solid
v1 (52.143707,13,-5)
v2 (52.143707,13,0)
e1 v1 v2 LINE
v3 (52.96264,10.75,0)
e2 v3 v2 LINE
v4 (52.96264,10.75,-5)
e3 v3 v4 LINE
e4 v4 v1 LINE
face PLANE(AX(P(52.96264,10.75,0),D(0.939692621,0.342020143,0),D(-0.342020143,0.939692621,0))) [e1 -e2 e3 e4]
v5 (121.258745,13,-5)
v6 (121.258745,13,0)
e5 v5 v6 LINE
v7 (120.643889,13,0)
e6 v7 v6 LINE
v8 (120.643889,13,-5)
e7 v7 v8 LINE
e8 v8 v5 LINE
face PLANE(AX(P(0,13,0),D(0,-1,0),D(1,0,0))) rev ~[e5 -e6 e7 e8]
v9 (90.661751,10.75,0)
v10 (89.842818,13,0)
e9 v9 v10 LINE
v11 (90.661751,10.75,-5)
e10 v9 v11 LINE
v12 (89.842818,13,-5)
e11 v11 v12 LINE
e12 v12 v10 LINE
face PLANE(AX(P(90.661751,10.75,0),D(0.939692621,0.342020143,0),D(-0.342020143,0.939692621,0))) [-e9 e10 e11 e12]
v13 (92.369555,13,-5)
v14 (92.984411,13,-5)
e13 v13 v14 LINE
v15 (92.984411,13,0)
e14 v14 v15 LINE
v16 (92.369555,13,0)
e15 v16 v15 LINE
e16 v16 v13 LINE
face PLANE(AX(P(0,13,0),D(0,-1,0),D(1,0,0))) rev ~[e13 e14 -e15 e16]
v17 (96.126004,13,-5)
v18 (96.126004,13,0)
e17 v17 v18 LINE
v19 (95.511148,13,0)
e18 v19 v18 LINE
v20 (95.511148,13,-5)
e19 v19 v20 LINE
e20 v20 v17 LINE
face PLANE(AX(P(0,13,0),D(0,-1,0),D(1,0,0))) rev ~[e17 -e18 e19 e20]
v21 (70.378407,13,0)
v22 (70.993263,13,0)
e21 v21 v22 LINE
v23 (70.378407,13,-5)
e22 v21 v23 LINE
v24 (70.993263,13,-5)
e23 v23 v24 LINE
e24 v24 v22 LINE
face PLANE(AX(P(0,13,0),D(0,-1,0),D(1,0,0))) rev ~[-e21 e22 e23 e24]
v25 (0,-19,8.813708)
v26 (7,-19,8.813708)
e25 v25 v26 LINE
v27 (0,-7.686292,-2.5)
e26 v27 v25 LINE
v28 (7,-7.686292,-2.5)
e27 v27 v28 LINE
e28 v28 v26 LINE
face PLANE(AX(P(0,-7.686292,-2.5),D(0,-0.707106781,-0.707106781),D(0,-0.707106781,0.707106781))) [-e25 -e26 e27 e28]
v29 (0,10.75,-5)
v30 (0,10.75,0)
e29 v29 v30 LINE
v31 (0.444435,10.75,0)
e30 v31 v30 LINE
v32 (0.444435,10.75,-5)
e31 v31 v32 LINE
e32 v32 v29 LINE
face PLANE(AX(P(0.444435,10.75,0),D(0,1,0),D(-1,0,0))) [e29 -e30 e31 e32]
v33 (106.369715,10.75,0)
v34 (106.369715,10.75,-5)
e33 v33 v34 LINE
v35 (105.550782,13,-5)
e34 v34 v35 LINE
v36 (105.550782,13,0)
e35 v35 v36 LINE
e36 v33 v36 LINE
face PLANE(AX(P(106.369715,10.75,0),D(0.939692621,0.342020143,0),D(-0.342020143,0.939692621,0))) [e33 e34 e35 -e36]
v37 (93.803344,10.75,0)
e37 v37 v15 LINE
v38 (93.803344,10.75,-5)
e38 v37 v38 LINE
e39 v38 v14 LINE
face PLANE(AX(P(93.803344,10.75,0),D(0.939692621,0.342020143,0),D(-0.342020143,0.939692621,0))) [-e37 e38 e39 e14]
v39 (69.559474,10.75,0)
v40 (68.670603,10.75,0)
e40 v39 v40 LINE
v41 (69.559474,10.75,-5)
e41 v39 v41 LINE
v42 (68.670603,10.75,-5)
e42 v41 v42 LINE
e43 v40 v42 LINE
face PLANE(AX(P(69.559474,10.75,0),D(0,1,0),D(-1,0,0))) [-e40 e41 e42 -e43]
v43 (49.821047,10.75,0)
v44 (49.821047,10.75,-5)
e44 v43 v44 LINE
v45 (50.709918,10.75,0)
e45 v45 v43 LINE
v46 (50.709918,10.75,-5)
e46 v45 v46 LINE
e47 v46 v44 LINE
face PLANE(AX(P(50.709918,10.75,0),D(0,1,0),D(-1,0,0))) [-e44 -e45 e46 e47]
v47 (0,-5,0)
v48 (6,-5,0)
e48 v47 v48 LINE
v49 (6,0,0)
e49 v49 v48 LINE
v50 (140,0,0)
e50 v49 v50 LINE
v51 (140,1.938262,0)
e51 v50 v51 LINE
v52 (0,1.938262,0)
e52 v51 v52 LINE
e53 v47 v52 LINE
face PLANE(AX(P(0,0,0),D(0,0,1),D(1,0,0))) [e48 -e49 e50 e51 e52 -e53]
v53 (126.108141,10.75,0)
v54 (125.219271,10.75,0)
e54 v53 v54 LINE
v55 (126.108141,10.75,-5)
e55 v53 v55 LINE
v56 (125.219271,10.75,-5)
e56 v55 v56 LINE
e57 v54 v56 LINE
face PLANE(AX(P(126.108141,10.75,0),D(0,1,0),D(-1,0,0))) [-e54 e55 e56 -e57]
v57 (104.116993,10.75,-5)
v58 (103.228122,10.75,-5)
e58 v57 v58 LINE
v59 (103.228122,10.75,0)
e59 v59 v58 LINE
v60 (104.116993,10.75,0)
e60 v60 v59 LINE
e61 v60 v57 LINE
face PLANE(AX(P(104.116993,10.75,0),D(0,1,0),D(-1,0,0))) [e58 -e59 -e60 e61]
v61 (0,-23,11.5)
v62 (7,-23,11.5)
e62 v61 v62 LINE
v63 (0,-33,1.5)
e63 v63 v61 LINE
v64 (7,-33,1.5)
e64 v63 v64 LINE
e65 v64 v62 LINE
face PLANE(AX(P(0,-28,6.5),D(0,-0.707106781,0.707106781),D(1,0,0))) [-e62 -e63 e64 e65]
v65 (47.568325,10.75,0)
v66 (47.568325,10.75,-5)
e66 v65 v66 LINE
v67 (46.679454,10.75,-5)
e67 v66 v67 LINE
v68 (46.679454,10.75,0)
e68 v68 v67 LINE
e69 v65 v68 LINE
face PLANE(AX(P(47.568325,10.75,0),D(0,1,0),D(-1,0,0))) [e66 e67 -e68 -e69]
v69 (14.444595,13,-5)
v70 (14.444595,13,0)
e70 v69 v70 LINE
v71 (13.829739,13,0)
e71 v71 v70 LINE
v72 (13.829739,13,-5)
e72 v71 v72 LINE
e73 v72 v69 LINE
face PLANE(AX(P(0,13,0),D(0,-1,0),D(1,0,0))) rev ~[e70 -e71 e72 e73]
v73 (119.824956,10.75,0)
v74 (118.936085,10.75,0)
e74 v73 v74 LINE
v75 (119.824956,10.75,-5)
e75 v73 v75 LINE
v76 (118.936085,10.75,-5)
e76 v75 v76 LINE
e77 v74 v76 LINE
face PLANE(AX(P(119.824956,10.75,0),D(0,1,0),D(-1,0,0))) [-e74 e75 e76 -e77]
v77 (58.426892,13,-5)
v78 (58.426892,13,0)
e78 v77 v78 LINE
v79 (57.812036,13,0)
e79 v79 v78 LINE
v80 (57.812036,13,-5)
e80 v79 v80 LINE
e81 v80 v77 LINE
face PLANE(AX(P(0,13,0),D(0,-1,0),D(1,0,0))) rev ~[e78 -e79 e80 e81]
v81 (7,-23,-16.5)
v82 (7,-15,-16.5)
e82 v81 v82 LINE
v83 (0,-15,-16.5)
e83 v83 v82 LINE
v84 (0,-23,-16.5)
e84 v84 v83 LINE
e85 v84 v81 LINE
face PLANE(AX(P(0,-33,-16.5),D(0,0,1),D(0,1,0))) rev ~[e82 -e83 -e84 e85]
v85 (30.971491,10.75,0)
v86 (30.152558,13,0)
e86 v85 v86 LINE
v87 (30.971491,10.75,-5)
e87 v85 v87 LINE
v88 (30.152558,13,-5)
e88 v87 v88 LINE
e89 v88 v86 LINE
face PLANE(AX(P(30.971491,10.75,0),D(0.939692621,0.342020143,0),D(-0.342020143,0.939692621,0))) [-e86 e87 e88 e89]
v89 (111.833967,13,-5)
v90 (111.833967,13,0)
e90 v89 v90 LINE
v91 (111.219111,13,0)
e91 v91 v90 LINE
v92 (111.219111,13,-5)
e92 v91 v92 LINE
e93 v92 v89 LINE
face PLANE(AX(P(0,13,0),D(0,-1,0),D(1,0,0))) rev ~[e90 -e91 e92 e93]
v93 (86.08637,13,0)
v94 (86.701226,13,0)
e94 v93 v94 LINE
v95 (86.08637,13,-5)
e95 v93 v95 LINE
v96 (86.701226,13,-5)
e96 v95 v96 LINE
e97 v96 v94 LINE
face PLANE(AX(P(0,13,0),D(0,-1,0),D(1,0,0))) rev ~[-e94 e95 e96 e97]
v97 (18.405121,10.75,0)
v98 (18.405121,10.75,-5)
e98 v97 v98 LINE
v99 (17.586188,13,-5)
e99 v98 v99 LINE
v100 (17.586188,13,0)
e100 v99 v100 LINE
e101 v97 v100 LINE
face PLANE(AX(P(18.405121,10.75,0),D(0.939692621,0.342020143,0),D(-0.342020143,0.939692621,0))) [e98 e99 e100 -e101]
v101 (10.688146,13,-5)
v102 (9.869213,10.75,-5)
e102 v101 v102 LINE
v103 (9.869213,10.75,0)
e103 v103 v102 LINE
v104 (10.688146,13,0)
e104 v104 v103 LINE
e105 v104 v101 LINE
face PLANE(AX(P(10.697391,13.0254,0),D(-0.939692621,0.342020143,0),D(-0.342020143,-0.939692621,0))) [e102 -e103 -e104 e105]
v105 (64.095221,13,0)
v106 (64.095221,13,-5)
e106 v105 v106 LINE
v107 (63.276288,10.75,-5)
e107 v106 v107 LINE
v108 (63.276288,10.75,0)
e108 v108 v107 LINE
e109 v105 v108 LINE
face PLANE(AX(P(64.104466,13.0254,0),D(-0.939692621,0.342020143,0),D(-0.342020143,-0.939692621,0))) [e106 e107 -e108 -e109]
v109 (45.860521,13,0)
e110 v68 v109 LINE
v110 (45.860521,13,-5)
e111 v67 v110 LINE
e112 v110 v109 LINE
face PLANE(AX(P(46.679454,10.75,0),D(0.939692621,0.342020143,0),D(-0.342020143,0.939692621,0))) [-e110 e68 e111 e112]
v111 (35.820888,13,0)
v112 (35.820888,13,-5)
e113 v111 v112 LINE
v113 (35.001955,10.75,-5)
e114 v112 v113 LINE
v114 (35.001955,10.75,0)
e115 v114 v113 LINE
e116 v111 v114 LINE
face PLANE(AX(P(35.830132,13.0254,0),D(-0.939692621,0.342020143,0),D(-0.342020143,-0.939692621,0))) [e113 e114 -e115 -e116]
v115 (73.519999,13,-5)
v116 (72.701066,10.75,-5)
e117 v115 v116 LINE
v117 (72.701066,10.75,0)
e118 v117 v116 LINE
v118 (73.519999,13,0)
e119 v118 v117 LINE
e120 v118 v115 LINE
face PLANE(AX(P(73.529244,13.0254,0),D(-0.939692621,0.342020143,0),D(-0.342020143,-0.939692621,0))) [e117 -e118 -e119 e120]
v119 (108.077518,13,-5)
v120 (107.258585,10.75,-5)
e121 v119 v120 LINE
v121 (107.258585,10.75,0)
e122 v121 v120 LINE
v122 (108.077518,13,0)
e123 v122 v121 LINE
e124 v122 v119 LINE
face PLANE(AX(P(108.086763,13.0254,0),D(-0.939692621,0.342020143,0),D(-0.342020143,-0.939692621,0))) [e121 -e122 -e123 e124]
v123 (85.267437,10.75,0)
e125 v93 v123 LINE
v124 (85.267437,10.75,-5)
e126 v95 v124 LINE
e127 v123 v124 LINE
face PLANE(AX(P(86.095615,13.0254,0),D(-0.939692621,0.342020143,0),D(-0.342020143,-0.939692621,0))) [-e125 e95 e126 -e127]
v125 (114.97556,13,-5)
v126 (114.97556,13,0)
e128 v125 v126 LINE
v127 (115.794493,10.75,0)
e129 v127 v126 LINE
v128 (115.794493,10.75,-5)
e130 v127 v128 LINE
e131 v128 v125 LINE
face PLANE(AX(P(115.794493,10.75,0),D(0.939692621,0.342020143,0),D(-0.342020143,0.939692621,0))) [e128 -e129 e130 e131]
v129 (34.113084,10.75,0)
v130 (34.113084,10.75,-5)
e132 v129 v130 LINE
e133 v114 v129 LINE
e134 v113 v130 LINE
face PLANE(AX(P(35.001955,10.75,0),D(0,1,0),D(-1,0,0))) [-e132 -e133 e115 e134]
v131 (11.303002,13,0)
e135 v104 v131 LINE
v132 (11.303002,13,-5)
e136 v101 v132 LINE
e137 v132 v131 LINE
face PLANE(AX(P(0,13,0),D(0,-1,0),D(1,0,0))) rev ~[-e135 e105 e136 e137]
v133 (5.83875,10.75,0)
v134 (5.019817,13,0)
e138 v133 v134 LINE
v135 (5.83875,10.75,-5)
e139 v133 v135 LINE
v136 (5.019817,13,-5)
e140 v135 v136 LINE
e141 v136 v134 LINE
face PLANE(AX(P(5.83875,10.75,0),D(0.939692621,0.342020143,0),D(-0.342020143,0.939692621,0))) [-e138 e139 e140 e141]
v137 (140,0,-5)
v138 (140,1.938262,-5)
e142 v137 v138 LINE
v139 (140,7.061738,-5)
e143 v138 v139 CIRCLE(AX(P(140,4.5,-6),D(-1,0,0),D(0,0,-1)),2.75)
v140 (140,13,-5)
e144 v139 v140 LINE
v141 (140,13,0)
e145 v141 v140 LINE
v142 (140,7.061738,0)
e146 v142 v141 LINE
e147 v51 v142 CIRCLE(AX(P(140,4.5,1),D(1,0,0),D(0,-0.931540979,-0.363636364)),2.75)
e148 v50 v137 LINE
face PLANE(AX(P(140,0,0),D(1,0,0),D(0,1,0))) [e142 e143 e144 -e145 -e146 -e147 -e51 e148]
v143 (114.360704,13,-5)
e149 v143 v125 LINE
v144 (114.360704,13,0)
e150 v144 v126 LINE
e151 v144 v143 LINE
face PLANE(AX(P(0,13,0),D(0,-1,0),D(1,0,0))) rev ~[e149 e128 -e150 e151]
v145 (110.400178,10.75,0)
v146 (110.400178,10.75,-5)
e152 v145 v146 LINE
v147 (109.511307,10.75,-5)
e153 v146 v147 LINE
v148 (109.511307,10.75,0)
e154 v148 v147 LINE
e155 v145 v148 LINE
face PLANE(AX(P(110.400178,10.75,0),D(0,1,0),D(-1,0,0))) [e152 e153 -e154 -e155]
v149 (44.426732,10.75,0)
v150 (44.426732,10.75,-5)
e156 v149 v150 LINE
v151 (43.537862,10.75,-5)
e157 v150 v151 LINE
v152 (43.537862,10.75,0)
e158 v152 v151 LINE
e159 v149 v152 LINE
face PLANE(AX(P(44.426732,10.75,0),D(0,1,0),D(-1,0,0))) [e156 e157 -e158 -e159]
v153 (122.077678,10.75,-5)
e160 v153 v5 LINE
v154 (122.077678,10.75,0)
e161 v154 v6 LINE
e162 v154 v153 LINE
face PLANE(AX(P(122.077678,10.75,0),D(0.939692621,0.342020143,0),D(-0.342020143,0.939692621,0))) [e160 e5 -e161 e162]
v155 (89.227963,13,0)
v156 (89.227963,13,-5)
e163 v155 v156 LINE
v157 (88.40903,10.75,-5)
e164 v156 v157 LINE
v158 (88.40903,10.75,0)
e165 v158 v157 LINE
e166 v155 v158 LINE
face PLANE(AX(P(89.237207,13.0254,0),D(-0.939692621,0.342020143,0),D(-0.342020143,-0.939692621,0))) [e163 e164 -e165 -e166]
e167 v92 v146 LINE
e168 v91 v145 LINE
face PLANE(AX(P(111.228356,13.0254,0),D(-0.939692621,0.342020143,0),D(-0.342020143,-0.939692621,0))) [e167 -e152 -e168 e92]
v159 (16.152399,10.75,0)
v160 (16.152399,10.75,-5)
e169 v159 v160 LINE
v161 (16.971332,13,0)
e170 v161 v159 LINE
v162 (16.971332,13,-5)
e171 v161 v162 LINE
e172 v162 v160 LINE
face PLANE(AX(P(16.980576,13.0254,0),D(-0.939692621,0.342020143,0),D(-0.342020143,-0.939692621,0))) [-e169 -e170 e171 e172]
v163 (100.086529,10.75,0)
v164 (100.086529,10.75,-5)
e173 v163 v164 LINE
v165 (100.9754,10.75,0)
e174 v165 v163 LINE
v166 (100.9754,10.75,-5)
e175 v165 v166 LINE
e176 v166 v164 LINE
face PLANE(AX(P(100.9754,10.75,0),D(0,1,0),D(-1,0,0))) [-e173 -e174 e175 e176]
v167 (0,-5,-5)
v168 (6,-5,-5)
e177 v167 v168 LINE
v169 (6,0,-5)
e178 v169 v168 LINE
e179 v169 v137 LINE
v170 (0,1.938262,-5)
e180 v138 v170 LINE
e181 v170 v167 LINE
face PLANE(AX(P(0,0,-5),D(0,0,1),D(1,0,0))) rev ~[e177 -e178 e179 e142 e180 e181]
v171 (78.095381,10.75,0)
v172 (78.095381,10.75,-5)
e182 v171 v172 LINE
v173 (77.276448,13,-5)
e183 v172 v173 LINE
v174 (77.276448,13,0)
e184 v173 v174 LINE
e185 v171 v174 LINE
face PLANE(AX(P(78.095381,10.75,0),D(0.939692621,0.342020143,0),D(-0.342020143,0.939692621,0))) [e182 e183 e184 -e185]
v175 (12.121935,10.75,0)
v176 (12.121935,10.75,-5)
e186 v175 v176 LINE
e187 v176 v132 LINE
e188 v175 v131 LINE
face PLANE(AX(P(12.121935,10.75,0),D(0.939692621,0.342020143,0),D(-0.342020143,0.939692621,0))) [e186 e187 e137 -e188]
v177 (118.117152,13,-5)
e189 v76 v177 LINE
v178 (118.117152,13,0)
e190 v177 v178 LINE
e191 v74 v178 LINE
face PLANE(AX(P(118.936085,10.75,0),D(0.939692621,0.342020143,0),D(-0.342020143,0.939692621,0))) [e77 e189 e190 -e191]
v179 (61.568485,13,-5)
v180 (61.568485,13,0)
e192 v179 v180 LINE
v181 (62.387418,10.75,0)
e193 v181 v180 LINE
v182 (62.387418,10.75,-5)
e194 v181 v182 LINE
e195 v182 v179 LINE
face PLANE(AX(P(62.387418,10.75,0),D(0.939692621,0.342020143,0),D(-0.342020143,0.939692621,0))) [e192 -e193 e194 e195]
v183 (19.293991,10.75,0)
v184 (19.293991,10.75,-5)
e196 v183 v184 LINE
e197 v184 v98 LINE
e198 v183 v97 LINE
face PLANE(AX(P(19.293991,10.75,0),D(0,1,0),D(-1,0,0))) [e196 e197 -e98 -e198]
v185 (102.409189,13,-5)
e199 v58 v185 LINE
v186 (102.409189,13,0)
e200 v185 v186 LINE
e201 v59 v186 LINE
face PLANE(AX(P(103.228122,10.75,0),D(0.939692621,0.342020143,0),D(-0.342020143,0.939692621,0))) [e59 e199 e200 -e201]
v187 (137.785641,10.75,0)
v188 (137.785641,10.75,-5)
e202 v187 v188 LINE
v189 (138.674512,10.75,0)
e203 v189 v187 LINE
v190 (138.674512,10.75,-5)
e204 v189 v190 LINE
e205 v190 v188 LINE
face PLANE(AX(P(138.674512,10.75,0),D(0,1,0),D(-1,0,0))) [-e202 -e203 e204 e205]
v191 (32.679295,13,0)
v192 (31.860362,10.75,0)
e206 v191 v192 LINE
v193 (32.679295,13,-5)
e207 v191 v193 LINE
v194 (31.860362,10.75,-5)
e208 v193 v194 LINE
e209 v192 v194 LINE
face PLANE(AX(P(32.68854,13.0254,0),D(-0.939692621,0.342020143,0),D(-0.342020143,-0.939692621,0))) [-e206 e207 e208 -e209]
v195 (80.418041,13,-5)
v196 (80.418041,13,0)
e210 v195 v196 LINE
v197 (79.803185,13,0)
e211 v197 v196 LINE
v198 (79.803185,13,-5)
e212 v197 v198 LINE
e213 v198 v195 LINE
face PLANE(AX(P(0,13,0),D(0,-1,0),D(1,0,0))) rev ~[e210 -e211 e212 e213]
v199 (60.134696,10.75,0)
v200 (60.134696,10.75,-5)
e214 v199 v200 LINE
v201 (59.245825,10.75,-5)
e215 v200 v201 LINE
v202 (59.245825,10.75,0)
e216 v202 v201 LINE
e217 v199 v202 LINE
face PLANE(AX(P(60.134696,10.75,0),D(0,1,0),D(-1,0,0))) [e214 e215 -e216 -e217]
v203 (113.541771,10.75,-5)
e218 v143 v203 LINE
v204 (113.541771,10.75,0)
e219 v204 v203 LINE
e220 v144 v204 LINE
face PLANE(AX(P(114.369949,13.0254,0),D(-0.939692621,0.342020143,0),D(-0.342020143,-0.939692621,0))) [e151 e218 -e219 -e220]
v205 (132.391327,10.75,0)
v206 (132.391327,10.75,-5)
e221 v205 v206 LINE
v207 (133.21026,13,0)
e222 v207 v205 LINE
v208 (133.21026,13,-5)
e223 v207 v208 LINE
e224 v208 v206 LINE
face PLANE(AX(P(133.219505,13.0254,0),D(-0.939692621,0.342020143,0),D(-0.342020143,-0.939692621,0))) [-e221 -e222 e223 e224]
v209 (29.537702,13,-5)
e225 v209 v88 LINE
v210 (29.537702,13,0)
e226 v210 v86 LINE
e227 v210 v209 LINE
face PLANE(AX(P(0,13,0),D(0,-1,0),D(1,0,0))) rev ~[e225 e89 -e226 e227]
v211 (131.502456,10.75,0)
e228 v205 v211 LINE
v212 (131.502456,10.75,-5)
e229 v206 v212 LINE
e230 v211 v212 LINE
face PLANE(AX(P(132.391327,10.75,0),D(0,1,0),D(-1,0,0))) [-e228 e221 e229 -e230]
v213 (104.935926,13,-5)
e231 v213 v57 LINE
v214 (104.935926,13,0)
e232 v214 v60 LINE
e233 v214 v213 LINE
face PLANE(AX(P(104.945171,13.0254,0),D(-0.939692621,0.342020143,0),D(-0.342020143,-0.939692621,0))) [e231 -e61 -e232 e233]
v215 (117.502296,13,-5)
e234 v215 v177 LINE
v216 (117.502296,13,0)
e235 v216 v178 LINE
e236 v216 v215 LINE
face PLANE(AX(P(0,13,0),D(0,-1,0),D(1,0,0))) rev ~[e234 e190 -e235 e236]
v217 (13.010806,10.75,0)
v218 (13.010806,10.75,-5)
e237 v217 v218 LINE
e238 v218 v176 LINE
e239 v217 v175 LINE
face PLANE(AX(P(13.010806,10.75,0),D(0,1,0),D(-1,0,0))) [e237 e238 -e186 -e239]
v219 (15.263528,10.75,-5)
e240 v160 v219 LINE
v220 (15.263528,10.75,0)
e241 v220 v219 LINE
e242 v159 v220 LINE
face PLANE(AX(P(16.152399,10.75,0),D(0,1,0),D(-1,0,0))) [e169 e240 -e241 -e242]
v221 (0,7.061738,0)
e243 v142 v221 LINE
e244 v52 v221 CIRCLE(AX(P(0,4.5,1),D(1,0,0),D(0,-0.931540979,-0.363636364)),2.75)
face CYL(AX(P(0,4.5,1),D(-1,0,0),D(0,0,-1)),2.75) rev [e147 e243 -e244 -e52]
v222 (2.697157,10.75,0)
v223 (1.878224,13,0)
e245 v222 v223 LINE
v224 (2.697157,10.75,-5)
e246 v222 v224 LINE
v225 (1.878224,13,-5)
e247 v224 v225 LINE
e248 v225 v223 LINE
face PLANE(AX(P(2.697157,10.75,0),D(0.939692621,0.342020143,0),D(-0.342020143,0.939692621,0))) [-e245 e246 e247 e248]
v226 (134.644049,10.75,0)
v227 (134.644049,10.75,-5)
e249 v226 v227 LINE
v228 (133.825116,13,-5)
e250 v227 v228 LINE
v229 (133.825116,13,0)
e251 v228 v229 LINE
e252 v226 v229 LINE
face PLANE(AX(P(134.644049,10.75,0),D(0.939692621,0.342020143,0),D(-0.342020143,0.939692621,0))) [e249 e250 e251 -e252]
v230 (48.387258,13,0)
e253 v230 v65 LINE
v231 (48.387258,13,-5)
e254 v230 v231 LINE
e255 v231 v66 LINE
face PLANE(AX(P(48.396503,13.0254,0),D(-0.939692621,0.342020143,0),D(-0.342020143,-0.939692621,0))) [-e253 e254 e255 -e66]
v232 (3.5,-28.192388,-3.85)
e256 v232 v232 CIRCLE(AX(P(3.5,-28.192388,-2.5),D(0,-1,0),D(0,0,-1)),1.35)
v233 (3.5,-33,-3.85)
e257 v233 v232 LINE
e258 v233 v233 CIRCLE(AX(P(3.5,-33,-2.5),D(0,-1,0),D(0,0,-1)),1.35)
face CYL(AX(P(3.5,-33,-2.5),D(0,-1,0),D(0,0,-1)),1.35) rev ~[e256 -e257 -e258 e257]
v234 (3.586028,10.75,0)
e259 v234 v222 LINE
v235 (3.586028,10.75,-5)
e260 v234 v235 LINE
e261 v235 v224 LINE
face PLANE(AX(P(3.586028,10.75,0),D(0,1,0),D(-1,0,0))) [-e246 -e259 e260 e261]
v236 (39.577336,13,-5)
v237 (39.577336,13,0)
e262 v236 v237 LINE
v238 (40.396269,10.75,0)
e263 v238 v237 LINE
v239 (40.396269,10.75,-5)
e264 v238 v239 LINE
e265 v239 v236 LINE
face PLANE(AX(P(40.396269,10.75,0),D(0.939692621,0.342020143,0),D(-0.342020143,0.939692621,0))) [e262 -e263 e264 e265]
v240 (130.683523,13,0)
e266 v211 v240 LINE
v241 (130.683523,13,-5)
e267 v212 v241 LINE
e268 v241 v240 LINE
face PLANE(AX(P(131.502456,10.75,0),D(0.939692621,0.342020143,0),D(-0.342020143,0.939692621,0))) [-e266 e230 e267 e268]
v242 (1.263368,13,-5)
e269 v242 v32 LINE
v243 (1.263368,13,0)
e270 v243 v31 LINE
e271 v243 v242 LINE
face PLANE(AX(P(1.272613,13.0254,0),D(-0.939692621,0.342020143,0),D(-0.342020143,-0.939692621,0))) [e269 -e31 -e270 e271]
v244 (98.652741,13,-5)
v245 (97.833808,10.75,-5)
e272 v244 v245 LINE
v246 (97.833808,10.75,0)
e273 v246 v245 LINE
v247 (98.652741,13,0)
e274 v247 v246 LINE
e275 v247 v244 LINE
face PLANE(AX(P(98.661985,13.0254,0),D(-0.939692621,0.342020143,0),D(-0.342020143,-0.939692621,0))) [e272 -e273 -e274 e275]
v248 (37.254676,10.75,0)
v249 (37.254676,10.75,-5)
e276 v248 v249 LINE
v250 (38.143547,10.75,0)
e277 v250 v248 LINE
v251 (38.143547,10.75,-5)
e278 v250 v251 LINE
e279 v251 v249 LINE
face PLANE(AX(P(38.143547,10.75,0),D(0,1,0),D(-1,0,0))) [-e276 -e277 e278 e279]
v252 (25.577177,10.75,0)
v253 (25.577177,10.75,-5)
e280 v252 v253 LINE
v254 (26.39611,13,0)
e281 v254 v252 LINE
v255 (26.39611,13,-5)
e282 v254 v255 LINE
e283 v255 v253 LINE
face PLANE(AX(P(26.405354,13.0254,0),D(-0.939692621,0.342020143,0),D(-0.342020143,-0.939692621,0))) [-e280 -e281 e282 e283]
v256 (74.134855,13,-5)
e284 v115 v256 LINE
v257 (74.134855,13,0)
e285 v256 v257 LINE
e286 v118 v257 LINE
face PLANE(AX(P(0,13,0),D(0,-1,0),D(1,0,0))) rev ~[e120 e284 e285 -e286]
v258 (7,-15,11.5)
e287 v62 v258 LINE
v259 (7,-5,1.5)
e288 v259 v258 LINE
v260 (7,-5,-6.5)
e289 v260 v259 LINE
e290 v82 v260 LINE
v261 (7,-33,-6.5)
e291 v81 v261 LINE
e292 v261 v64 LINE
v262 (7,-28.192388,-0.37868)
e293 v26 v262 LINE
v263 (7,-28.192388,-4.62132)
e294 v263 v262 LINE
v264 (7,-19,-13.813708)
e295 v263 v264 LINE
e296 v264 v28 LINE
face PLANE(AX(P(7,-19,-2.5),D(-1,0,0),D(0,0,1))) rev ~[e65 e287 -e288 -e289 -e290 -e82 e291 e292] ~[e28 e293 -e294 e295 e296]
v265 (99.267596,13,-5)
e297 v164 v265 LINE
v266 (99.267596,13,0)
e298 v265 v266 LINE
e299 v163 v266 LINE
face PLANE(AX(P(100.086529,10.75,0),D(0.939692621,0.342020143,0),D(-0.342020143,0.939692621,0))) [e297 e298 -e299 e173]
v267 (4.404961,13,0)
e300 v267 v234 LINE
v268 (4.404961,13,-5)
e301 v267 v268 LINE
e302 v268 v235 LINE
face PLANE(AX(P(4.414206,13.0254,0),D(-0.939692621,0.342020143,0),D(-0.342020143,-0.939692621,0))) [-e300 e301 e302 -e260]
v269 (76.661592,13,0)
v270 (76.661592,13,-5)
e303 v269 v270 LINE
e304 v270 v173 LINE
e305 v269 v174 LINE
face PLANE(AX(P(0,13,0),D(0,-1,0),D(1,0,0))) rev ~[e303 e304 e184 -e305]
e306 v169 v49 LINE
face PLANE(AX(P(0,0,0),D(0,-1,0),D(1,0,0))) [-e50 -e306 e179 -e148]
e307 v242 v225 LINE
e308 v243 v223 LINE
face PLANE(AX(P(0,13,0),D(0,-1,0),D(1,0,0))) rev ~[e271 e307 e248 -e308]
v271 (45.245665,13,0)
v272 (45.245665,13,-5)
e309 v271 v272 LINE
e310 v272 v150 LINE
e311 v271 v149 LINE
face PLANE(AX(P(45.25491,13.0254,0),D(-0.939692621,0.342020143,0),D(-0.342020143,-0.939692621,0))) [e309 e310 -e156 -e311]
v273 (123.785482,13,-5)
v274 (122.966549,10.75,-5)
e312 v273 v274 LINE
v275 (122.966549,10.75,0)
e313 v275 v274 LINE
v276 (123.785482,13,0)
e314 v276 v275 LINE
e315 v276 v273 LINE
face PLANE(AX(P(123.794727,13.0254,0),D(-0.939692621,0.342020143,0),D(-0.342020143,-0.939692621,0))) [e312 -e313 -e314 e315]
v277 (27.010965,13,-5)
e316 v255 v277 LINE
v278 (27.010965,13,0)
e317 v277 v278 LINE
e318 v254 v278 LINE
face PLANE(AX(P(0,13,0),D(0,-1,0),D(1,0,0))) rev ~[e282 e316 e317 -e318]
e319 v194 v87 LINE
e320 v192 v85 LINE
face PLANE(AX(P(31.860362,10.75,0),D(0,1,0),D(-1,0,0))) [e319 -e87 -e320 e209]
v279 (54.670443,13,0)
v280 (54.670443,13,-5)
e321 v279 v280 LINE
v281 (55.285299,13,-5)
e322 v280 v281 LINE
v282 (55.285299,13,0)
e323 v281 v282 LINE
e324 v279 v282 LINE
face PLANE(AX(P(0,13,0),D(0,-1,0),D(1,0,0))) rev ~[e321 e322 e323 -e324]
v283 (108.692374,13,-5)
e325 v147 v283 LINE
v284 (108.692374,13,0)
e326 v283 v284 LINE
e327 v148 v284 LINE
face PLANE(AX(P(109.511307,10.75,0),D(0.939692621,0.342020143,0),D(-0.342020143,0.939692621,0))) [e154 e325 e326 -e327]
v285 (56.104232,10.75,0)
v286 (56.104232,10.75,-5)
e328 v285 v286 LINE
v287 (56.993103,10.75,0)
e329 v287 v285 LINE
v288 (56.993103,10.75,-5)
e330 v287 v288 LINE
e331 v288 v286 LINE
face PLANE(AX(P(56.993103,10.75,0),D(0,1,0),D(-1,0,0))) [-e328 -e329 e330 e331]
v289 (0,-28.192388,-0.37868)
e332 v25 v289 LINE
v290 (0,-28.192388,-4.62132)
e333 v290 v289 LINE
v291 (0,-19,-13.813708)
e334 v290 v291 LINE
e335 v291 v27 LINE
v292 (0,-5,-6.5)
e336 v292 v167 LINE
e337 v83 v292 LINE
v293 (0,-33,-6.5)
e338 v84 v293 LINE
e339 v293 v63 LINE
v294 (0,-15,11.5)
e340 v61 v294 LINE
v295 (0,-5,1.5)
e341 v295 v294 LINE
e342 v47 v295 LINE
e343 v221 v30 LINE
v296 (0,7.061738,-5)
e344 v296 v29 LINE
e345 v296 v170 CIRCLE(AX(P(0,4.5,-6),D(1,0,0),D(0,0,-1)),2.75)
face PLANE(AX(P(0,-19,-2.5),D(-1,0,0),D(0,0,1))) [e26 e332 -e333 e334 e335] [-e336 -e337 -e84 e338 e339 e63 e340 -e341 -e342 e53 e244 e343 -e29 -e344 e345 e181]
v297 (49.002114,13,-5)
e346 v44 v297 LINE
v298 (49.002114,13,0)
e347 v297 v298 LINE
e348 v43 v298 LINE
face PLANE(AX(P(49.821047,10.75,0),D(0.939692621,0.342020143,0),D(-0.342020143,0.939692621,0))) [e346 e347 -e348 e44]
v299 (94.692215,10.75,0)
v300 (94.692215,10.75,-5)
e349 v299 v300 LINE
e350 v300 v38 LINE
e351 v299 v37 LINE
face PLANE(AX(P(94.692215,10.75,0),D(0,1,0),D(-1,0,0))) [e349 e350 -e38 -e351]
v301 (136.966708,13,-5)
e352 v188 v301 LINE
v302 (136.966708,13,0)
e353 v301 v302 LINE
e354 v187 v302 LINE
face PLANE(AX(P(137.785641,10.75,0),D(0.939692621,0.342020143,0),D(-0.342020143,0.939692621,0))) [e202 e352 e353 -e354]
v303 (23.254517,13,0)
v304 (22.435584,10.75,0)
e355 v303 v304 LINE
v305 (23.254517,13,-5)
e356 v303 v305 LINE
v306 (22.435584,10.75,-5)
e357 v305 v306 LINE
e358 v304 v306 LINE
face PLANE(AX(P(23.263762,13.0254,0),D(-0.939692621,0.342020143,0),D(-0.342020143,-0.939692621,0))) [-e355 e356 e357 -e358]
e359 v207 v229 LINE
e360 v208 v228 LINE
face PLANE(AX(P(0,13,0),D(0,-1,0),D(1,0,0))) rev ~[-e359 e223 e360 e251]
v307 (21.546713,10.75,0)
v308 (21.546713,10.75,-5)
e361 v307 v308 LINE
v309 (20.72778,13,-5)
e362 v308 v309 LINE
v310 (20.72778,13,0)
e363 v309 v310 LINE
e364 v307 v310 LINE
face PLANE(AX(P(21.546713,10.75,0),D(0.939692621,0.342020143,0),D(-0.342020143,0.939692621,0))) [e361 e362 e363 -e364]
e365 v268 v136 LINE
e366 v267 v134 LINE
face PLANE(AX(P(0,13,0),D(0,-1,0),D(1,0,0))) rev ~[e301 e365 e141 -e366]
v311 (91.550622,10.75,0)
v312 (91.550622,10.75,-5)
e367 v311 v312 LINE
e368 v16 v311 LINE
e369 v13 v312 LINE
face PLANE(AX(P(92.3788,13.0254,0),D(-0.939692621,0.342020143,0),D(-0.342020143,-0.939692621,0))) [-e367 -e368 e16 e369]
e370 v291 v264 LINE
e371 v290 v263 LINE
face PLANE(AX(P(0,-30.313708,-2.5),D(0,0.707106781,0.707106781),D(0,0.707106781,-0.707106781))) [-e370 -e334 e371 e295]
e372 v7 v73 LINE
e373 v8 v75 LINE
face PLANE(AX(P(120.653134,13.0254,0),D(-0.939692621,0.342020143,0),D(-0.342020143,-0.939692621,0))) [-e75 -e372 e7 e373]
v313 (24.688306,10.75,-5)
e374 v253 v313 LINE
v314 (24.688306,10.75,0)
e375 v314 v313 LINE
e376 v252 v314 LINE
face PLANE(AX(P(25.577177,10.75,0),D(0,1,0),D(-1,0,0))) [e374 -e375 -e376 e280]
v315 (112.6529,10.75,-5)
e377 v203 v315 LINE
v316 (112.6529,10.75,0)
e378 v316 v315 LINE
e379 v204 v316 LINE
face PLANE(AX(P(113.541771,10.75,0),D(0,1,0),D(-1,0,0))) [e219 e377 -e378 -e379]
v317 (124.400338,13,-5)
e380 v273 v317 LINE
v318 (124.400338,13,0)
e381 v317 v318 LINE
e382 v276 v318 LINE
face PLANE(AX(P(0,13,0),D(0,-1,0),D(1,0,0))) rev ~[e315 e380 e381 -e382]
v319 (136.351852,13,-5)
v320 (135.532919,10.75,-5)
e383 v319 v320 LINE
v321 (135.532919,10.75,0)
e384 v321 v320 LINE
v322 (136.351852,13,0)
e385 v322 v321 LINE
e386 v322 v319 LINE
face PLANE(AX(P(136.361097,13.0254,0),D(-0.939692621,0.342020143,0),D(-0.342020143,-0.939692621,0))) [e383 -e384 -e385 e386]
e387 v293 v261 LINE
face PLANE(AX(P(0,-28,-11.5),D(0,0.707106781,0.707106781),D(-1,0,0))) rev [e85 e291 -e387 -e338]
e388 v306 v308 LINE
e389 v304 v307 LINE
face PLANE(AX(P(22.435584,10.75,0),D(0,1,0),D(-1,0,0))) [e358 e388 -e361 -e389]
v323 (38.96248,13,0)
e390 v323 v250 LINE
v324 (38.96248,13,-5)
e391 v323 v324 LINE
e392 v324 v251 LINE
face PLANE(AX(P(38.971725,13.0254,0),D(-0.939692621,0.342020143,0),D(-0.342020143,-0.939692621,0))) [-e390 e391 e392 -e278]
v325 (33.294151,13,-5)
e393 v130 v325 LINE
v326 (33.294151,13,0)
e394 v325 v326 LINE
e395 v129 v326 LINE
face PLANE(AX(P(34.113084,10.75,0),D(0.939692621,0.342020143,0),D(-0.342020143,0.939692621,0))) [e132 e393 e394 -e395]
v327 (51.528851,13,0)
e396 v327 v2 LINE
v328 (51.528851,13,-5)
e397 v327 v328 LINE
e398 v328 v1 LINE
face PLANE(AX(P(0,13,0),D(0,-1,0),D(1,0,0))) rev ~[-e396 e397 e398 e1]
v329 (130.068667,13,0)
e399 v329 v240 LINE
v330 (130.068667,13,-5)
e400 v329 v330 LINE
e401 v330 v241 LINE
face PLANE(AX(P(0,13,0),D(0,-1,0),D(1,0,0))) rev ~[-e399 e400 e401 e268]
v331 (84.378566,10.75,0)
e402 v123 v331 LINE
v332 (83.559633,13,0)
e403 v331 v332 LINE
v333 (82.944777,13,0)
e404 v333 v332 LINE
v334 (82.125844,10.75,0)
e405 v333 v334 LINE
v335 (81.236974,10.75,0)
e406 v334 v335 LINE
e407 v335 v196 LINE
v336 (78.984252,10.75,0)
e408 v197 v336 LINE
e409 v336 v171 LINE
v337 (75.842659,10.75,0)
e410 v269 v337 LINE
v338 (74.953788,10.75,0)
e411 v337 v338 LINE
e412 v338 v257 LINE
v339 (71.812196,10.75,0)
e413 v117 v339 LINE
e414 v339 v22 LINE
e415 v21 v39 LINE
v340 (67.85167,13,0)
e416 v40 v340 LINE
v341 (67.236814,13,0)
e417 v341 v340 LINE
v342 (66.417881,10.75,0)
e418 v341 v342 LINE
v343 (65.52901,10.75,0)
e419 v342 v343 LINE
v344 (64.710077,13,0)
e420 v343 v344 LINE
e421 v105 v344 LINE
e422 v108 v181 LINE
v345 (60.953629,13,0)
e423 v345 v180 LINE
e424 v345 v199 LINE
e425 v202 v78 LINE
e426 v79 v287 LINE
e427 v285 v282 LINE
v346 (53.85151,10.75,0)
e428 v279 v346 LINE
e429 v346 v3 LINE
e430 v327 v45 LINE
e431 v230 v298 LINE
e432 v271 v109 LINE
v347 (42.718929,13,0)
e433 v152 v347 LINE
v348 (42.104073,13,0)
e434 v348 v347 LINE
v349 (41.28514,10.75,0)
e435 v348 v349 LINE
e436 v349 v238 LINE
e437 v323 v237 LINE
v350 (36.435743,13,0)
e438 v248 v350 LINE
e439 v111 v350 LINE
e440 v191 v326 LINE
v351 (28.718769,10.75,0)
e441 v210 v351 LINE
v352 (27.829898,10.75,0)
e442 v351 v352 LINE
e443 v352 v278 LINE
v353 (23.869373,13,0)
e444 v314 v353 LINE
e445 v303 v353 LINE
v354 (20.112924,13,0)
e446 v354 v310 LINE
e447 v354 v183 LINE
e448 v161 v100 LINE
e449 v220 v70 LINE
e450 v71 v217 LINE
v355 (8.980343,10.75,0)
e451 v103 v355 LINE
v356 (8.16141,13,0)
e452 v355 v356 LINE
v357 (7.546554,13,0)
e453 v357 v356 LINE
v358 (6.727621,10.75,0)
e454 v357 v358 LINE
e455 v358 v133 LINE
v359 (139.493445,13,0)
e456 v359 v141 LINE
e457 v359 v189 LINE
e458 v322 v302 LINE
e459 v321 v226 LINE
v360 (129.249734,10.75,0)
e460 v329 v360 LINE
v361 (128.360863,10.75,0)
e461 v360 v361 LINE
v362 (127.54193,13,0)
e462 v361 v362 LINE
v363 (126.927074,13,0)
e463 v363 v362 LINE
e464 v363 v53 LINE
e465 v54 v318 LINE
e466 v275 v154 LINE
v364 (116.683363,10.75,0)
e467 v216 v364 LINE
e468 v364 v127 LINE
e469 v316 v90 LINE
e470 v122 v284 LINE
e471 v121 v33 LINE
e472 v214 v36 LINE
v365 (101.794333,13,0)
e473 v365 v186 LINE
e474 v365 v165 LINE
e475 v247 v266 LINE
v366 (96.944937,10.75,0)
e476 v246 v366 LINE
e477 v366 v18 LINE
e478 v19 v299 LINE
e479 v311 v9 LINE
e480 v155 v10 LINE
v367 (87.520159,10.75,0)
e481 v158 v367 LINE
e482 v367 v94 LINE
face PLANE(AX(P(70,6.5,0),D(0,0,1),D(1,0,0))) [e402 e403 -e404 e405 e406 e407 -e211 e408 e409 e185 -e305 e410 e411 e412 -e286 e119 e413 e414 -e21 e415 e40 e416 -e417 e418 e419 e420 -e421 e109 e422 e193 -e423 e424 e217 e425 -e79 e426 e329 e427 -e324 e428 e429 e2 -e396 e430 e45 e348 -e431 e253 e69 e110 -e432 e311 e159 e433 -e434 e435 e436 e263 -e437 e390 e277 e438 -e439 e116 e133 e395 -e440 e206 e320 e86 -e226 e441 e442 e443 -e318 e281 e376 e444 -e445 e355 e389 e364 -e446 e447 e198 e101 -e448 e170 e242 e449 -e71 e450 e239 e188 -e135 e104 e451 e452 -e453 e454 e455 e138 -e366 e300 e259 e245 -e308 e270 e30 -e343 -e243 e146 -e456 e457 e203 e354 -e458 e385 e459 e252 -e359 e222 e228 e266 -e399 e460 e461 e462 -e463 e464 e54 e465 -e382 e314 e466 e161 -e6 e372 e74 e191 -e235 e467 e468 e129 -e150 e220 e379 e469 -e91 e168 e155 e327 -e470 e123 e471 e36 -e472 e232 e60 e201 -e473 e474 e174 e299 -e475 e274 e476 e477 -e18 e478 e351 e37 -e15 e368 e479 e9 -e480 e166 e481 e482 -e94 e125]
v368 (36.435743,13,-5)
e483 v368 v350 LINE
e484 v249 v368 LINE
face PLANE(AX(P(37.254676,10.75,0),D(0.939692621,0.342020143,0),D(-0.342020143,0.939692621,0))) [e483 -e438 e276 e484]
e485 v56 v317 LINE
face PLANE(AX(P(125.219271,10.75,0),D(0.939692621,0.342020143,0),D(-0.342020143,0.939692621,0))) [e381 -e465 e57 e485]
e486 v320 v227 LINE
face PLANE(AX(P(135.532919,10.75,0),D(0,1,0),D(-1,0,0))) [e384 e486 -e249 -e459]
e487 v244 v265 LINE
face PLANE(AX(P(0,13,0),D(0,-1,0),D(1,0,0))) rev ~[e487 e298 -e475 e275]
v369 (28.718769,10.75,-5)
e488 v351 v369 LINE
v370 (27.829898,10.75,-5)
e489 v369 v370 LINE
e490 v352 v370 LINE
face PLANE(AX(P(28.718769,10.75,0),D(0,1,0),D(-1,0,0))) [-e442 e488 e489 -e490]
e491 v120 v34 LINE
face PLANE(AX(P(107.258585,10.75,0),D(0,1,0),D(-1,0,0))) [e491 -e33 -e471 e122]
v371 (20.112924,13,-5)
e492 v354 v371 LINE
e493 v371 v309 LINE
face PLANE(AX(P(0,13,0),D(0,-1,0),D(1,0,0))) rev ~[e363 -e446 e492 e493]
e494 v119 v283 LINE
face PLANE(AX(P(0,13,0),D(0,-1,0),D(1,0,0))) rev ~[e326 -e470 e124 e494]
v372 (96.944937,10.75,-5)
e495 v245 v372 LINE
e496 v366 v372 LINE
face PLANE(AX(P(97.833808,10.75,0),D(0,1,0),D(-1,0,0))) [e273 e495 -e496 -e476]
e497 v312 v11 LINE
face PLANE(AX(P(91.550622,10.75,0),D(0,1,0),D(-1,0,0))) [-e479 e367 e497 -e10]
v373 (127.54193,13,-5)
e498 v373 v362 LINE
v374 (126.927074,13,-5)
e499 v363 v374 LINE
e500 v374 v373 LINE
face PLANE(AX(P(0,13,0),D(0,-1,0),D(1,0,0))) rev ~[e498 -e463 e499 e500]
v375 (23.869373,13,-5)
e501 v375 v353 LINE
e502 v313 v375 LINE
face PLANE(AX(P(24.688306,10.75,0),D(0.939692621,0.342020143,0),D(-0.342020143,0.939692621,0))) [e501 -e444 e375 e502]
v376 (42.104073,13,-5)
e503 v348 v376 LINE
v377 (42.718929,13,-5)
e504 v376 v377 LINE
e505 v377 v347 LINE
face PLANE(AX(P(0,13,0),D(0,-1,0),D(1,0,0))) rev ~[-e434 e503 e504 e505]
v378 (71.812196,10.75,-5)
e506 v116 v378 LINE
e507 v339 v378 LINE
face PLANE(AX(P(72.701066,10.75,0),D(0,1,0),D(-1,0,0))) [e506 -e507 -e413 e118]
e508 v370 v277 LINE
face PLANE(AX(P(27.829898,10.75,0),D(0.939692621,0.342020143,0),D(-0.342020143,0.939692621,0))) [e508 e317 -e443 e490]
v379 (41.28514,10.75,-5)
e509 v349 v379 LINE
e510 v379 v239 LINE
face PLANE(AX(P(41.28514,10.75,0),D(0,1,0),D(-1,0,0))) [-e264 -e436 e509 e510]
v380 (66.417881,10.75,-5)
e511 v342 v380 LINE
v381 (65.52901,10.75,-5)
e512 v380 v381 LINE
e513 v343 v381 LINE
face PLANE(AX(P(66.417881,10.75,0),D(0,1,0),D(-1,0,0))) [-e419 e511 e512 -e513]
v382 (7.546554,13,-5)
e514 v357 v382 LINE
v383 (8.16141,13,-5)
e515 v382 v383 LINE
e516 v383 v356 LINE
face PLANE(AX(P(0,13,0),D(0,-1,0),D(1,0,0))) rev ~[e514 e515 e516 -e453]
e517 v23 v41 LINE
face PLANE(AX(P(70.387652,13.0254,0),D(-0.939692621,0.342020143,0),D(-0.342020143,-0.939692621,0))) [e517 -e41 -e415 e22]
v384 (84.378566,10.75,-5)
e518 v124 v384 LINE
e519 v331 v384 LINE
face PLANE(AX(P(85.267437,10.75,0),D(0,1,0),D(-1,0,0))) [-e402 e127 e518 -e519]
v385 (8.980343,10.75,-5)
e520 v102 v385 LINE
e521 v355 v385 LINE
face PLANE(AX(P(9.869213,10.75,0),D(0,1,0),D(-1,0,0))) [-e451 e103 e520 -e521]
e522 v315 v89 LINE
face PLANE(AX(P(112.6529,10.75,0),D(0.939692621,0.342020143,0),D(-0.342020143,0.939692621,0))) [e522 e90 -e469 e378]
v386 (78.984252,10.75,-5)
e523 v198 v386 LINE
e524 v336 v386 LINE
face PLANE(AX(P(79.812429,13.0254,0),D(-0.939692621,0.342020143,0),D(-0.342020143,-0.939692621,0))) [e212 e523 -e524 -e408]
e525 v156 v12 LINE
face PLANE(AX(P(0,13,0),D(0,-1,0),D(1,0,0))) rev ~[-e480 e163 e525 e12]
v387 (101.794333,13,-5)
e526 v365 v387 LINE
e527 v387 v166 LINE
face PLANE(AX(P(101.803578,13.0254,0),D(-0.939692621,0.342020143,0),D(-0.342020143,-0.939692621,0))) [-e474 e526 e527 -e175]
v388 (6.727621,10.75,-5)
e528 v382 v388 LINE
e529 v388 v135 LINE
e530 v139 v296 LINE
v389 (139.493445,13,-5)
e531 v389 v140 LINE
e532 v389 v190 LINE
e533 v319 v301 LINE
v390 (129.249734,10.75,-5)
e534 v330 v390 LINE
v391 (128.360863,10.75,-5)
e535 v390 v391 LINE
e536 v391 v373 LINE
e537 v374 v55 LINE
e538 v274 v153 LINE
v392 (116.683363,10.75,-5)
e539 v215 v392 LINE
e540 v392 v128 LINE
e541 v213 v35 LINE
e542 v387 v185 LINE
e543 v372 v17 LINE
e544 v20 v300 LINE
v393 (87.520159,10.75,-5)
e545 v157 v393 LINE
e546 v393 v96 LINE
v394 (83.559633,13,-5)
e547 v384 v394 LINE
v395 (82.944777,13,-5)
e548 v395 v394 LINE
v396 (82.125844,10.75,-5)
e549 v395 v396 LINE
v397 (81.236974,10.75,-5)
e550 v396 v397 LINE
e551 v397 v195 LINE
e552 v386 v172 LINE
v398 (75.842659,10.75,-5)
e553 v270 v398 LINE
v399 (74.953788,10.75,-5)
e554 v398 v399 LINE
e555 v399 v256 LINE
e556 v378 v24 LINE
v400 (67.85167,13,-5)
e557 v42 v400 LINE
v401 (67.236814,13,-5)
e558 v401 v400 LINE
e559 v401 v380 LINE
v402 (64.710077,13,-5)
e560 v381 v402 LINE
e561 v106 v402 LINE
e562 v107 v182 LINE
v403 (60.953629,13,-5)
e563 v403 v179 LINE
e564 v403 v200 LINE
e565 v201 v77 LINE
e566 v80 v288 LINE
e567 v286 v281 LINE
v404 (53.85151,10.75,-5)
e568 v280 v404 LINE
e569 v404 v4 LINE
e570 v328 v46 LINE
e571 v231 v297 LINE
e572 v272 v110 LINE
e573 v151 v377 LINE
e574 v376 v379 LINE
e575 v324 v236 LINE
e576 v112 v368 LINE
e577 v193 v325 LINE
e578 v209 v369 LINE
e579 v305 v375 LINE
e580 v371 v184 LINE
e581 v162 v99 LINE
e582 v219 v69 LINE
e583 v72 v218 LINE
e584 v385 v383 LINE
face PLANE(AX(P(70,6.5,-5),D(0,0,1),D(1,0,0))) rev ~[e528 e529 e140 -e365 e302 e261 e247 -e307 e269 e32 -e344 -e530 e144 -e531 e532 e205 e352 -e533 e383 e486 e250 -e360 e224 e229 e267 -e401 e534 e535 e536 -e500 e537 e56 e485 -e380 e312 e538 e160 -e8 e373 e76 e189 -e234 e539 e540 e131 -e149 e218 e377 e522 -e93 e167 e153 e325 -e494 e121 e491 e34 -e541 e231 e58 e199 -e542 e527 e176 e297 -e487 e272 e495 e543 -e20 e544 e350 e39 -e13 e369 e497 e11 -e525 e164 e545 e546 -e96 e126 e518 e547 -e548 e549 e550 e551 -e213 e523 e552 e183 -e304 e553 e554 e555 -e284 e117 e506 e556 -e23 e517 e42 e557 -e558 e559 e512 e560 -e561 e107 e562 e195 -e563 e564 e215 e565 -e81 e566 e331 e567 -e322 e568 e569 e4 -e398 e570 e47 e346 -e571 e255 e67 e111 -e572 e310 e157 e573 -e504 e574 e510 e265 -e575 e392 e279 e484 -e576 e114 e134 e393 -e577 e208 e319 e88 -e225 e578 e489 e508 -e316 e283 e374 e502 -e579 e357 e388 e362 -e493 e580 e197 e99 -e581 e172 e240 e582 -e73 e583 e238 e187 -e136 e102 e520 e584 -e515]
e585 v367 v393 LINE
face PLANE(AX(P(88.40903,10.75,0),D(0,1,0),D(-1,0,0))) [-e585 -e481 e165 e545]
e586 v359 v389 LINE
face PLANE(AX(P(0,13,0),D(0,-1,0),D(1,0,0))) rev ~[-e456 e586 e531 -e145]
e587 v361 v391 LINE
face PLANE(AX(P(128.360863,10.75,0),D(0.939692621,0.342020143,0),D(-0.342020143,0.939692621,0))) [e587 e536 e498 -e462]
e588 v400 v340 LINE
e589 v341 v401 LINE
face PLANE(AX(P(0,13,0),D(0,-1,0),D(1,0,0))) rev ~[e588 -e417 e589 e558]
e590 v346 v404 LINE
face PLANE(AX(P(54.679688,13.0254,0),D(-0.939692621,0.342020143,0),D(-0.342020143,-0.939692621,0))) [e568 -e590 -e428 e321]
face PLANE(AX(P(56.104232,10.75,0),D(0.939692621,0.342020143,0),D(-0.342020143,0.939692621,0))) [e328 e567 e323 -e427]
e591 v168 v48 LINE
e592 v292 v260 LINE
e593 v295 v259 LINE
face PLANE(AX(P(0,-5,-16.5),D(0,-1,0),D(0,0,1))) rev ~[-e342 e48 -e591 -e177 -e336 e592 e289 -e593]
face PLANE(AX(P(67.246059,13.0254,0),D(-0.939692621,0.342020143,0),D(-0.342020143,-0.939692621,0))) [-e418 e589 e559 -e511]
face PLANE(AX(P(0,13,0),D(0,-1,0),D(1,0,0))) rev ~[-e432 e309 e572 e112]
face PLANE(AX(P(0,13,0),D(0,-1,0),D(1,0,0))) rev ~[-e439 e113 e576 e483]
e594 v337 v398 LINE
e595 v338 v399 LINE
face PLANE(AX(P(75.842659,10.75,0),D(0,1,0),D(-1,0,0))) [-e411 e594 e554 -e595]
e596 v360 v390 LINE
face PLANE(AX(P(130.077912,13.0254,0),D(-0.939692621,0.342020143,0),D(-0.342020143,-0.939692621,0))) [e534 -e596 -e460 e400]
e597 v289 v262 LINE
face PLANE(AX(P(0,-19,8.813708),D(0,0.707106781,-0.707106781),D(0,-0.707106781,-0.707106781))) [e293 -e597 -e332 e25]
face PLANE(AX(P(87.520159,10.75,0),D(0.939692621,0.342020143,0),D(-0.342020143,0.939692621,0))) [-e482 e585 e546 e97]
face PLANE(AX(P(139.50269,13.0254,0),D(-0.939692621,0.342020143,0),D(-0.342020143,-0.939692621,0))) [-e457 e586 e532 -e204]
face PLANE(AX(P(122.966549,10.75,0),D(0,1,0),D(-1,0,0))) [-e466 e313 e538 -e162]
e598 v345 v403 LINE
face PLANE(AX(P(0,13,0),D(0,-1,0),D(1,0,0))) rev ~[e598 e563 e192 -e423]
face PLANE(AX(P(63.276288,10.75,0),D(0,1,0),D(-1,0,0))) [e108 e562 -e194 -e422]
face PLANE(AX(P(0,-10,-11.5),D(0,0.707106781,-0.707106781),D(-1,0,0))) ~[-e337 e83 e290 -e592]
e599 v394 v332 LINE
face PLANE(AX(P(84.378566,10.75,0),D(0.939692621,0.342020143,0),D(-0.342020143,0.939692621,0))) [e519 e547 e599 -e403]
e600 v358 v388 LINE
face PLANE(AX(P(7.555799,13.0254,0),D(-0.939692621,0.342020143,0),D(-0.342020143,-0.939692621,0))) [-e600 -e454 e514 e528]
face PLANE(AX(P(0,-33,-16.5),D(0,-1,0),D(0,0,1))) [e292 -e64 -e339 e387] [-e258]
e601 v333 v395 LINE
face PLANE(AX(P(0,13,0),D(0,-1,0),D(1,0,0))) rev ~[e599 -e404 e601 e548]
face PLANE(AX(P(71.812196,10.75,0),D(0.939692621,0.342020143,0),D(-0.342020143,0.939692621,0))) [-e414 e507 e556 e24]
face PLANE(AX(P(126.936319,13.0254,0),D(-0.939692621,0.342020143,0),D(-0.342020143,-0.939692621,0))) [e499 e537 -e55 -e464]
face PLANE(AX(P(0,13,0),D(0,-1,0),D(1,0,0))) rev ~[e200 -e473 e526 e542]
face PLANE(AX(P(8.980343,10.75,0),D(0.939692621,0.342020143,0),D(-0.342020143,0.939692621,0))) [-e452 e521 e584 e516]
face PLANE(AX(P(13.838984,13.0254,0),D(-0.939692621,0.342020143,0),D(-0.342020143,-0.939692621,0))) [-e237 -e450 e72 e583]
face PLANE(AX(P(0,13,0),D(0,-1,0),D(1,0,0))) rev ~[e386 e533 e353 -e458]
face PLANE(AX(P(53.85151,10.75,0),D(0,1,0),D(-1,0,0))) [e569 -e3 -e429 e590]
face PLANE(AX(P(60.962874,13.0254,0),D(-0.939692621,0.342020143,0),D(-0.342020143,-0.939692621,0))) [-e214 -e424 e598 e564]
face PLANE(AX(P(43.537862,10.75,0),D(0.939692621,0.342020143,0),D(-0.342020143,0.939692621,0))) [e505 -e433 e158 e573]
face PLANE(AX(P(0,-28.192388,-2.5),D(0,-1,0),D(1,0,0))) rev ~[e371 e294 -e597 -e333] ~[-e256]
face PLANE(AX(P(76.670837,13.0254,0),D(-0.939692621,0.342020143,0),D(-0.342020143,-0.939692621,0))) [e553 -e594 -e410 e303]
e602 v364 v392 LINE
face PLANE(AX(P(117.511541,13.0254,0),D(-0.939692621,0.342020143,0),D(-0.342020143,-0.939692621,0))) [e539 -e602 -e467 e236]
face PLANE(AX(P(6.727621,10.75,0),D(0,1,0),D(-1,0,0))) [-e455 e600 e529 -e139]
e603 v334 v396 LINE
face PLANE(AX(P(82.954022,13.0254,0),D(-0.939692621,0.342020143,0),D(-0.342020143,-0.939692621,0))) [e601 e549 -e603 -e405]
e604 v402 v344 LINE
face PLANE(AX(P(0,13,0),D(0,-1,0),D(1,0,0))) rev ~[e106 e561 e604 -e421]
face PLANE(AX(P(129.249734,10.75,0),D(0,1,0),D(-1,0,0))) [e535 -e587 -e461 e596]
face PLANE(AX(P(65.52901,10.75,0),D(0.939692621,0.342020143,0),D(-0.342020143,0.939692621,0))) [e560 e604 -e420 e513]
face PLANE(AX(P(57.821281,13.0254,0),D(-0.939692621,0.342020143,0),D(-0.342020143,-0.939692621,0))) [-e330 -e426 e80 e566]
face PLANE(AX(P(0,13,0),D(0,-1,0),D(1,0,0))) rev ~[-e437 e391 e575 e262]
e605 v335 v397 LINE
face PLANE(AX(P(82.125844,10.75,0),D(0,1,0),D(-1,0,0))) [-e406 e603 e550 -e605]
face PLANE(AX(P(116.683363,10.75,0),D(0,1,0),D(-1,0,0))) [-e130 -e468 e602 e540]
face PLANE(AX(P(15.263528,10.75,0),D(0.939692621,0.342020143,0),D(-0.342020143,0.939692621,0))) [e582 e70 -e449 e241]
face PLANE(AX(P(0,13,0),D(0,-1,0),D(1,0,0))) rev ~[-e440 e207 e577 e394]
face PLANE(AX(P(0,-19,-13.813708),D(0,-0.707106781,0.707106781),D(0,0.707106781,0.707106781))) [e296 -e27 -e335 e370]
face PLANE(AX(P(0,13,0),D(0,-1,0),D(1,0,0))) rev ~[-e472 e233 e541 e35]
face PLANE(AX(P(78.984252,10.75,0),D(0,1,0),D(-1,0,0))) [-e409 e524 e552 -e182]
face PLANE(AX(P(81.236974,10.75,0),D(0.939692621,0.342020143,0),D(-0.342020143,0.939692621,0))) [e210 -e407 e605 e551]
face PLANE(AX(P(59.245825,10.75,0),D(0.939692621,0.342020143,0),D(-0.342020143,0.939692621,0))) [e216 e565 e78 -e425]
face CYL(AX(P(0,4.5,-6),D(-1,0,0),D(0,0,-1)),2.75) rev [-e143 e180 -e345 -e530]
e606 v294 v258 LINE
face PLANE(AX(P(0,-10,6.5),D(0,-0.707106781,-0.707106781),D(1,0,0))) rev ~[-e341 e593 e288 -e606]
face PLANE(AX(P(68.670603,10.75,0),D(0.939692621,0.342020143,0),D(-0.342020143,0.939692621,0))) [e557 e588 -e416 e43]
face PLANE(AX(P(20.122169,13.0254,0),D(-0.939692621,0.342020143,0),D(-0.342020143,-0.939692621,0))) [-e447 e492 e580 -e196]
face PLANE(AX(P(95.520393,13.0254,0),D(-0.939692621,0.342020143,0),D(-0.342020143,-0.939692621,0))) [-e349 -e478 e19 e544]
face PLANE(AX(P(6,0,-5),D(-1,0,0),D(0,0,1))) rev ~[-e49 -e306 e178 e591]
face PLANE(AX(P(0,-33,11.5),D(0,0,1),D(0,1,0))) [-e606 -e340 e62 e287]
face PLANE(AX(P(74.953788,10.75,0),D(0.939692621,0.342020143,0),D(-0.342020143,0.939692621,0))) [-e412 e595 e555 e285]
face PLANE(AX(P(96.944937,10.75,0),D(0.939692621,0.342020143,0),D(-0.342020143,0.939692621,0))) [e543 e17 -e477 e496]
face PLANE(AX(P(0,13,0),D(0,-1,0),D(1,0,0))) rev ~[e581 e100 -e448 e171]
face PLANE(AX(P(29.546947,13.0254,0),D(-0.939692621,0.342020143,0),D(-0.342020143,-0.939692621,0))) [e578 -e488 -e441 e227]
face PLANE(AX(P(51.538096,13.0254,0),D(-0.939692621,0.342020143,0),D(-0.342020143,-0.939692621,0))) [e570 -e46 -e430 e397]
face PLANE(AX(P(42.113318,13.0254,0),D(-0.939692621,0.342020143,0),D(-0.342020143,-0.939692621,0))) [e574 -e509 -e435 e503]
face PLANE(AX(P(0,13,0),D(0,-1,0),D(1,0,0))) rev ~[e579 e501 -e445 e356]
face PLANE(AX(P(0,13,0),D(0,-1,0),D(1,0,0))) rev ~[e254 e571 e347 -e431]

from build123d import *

# Parameters (mm, degrees)
BLANKSKE_W              = 140
BLANKSKE_H              = 13
BLANK_DEPTH             = 5
TOOTHCUTSIM_DEPTH       = 141.691151108
TEETHCUTS_COUNT         = 45
TEETHCUTS_PITCH         = 3.14159265
SKETCH1_R               = 2.75
CUT_EXTRUDE2_DEPTH      = 141.691151108
CUT_EXTRUDE2_DEPTH_BACK = 10
SKETCH15_W              = 6
SKETCH15_H              = 5
BOSS_EXTRUDE4_DEPTH     = 5
SKETCH16_W              = 28
SKETCH16_H              = 28
BOSS_EXTRUDE5_DEPTH     = 7
CUT_EXTRUDE6_DEPTH      = 10
CHAMFER4_SIZE           = 3
CHAMFER5_SIZE           = 10
SKETCH18_R              = 1.35
CUT_EXTRUDE7_DEPTH      = 10


with BuildPart() as part:
    # BlankSke → Blank (new body)
    with BuildSketch(Plane.XY):
        with Locations((70, 6.5)):
            Rectangle(BLANKSKE_W, BLANKSKE_H)
    extrude(amount=-BLANK_DEPTH)

    # TooCutSkeSim → ToothCutSim (cut, through all)
    with BuildSketch(Plane.XY):
        Polygon((0.44443537, 10.75), (-0.44443537, 10.75), (-1.272613241, 13.0254), (1.272613241, 13.0254), align=None)
    toothcutsim = extrude(amount=-TOOTHCUTSIM_DEPTH, mode=Mode.SUBTRACT)

    # TeethCuts: ToothCutSim ×45
    with Locations(*[(i * TEETHCUTS_PITCH, 0, 0) for i in range(1, TEETHCUTS_COUNT)]):
        add(toothcutsim, mode=Mode.SUBTRACT)

    # Sketch1 → Cut-Extrude2 (cut, two sides)
    with BuildSketch(Plane(origin=(0, 0, 0), x_dir=(0, 0, -1), z_dir=(1, 0, 0))) as cut_extrude2_sk:
        with Locations((6, 4.5)):
            Circle(SKETCH1_R)
        with Locations((-1, 4.5)):
            Circle(SKETCH1_R)
    extrude(amount=CUT_EXTRUDE2_DEPTH, mode=Mode.SUBTRACT)
    extrude(cut_extrude2_sk.sketch, amount=-CUT_EXTRUDE2_DEPTH_BACK, mode=Mode.SUBTRACT)

    # Sketch15 → Boss-Extrude4 (add)
    with BuildSketch(Plane.XZ):
        with Locations((3, -2.5)):
            Rectangle(SKETCH15_W, SKETCH15_H)
    extrude(amount=BOSS_EXTRUDE4_DEPTH)

    # Sketch16 → Boss-Extrude5 (add)
    with BuildSketch(Plane.ZY):
        with Locations((-2.5, -19)):
            Rectangle(SKETCH16_W, SKETCH16_H)
    extrude(amount=-BOSS_EXTRUDE5_DEPTH)

    # Sketch17 → Cut-Extrude6 (cut)
    with BuildSketch(Plane.ZY):
        Polygon((-13.813708499, -19), (-2.5, -7.686291501), (8.813708499, -19), (-2.5, -30.313708499), align=None)
    extrude(amount=-CUT_EXTRUDE6_DEPTH, mode=Mode.SUBTRACT)

    # Chamfer4
    chamfer4_edges = [part.edges().sort_by_distance(p)[0] for p in [
        (3.5, -30.313708499, -2.5),
    ]]
    chamfer(chamfer4_edges, length=CHAMFER4_SIZE)

    # Chamfer5
    chamfer5_edges = [part.edges().sort_by_distance(p)[0] for p in [
        (3.5, -5, 11.5),
        (3.5, -33, 11.5),
        (3.5, -33, -16.5),
        (3.5, -5, -16.5),
    ]]
    chamfer(chamfer5_edges, length=CHAMFER5_SIZE)

    # Sketch18 → Cut-Extrude7 (cut)
    with BuildSketch(Plane.XZ.offset(33)):
        with Locations(Location((3.5, -2.5, 0), (0, 0, 270))):
            Circle(SKETCH18_R)
    extrude(amount=-CUT_EXTRUDE7_DEPTH, mode=Mode.SUBTRACT)


solid = part.part
